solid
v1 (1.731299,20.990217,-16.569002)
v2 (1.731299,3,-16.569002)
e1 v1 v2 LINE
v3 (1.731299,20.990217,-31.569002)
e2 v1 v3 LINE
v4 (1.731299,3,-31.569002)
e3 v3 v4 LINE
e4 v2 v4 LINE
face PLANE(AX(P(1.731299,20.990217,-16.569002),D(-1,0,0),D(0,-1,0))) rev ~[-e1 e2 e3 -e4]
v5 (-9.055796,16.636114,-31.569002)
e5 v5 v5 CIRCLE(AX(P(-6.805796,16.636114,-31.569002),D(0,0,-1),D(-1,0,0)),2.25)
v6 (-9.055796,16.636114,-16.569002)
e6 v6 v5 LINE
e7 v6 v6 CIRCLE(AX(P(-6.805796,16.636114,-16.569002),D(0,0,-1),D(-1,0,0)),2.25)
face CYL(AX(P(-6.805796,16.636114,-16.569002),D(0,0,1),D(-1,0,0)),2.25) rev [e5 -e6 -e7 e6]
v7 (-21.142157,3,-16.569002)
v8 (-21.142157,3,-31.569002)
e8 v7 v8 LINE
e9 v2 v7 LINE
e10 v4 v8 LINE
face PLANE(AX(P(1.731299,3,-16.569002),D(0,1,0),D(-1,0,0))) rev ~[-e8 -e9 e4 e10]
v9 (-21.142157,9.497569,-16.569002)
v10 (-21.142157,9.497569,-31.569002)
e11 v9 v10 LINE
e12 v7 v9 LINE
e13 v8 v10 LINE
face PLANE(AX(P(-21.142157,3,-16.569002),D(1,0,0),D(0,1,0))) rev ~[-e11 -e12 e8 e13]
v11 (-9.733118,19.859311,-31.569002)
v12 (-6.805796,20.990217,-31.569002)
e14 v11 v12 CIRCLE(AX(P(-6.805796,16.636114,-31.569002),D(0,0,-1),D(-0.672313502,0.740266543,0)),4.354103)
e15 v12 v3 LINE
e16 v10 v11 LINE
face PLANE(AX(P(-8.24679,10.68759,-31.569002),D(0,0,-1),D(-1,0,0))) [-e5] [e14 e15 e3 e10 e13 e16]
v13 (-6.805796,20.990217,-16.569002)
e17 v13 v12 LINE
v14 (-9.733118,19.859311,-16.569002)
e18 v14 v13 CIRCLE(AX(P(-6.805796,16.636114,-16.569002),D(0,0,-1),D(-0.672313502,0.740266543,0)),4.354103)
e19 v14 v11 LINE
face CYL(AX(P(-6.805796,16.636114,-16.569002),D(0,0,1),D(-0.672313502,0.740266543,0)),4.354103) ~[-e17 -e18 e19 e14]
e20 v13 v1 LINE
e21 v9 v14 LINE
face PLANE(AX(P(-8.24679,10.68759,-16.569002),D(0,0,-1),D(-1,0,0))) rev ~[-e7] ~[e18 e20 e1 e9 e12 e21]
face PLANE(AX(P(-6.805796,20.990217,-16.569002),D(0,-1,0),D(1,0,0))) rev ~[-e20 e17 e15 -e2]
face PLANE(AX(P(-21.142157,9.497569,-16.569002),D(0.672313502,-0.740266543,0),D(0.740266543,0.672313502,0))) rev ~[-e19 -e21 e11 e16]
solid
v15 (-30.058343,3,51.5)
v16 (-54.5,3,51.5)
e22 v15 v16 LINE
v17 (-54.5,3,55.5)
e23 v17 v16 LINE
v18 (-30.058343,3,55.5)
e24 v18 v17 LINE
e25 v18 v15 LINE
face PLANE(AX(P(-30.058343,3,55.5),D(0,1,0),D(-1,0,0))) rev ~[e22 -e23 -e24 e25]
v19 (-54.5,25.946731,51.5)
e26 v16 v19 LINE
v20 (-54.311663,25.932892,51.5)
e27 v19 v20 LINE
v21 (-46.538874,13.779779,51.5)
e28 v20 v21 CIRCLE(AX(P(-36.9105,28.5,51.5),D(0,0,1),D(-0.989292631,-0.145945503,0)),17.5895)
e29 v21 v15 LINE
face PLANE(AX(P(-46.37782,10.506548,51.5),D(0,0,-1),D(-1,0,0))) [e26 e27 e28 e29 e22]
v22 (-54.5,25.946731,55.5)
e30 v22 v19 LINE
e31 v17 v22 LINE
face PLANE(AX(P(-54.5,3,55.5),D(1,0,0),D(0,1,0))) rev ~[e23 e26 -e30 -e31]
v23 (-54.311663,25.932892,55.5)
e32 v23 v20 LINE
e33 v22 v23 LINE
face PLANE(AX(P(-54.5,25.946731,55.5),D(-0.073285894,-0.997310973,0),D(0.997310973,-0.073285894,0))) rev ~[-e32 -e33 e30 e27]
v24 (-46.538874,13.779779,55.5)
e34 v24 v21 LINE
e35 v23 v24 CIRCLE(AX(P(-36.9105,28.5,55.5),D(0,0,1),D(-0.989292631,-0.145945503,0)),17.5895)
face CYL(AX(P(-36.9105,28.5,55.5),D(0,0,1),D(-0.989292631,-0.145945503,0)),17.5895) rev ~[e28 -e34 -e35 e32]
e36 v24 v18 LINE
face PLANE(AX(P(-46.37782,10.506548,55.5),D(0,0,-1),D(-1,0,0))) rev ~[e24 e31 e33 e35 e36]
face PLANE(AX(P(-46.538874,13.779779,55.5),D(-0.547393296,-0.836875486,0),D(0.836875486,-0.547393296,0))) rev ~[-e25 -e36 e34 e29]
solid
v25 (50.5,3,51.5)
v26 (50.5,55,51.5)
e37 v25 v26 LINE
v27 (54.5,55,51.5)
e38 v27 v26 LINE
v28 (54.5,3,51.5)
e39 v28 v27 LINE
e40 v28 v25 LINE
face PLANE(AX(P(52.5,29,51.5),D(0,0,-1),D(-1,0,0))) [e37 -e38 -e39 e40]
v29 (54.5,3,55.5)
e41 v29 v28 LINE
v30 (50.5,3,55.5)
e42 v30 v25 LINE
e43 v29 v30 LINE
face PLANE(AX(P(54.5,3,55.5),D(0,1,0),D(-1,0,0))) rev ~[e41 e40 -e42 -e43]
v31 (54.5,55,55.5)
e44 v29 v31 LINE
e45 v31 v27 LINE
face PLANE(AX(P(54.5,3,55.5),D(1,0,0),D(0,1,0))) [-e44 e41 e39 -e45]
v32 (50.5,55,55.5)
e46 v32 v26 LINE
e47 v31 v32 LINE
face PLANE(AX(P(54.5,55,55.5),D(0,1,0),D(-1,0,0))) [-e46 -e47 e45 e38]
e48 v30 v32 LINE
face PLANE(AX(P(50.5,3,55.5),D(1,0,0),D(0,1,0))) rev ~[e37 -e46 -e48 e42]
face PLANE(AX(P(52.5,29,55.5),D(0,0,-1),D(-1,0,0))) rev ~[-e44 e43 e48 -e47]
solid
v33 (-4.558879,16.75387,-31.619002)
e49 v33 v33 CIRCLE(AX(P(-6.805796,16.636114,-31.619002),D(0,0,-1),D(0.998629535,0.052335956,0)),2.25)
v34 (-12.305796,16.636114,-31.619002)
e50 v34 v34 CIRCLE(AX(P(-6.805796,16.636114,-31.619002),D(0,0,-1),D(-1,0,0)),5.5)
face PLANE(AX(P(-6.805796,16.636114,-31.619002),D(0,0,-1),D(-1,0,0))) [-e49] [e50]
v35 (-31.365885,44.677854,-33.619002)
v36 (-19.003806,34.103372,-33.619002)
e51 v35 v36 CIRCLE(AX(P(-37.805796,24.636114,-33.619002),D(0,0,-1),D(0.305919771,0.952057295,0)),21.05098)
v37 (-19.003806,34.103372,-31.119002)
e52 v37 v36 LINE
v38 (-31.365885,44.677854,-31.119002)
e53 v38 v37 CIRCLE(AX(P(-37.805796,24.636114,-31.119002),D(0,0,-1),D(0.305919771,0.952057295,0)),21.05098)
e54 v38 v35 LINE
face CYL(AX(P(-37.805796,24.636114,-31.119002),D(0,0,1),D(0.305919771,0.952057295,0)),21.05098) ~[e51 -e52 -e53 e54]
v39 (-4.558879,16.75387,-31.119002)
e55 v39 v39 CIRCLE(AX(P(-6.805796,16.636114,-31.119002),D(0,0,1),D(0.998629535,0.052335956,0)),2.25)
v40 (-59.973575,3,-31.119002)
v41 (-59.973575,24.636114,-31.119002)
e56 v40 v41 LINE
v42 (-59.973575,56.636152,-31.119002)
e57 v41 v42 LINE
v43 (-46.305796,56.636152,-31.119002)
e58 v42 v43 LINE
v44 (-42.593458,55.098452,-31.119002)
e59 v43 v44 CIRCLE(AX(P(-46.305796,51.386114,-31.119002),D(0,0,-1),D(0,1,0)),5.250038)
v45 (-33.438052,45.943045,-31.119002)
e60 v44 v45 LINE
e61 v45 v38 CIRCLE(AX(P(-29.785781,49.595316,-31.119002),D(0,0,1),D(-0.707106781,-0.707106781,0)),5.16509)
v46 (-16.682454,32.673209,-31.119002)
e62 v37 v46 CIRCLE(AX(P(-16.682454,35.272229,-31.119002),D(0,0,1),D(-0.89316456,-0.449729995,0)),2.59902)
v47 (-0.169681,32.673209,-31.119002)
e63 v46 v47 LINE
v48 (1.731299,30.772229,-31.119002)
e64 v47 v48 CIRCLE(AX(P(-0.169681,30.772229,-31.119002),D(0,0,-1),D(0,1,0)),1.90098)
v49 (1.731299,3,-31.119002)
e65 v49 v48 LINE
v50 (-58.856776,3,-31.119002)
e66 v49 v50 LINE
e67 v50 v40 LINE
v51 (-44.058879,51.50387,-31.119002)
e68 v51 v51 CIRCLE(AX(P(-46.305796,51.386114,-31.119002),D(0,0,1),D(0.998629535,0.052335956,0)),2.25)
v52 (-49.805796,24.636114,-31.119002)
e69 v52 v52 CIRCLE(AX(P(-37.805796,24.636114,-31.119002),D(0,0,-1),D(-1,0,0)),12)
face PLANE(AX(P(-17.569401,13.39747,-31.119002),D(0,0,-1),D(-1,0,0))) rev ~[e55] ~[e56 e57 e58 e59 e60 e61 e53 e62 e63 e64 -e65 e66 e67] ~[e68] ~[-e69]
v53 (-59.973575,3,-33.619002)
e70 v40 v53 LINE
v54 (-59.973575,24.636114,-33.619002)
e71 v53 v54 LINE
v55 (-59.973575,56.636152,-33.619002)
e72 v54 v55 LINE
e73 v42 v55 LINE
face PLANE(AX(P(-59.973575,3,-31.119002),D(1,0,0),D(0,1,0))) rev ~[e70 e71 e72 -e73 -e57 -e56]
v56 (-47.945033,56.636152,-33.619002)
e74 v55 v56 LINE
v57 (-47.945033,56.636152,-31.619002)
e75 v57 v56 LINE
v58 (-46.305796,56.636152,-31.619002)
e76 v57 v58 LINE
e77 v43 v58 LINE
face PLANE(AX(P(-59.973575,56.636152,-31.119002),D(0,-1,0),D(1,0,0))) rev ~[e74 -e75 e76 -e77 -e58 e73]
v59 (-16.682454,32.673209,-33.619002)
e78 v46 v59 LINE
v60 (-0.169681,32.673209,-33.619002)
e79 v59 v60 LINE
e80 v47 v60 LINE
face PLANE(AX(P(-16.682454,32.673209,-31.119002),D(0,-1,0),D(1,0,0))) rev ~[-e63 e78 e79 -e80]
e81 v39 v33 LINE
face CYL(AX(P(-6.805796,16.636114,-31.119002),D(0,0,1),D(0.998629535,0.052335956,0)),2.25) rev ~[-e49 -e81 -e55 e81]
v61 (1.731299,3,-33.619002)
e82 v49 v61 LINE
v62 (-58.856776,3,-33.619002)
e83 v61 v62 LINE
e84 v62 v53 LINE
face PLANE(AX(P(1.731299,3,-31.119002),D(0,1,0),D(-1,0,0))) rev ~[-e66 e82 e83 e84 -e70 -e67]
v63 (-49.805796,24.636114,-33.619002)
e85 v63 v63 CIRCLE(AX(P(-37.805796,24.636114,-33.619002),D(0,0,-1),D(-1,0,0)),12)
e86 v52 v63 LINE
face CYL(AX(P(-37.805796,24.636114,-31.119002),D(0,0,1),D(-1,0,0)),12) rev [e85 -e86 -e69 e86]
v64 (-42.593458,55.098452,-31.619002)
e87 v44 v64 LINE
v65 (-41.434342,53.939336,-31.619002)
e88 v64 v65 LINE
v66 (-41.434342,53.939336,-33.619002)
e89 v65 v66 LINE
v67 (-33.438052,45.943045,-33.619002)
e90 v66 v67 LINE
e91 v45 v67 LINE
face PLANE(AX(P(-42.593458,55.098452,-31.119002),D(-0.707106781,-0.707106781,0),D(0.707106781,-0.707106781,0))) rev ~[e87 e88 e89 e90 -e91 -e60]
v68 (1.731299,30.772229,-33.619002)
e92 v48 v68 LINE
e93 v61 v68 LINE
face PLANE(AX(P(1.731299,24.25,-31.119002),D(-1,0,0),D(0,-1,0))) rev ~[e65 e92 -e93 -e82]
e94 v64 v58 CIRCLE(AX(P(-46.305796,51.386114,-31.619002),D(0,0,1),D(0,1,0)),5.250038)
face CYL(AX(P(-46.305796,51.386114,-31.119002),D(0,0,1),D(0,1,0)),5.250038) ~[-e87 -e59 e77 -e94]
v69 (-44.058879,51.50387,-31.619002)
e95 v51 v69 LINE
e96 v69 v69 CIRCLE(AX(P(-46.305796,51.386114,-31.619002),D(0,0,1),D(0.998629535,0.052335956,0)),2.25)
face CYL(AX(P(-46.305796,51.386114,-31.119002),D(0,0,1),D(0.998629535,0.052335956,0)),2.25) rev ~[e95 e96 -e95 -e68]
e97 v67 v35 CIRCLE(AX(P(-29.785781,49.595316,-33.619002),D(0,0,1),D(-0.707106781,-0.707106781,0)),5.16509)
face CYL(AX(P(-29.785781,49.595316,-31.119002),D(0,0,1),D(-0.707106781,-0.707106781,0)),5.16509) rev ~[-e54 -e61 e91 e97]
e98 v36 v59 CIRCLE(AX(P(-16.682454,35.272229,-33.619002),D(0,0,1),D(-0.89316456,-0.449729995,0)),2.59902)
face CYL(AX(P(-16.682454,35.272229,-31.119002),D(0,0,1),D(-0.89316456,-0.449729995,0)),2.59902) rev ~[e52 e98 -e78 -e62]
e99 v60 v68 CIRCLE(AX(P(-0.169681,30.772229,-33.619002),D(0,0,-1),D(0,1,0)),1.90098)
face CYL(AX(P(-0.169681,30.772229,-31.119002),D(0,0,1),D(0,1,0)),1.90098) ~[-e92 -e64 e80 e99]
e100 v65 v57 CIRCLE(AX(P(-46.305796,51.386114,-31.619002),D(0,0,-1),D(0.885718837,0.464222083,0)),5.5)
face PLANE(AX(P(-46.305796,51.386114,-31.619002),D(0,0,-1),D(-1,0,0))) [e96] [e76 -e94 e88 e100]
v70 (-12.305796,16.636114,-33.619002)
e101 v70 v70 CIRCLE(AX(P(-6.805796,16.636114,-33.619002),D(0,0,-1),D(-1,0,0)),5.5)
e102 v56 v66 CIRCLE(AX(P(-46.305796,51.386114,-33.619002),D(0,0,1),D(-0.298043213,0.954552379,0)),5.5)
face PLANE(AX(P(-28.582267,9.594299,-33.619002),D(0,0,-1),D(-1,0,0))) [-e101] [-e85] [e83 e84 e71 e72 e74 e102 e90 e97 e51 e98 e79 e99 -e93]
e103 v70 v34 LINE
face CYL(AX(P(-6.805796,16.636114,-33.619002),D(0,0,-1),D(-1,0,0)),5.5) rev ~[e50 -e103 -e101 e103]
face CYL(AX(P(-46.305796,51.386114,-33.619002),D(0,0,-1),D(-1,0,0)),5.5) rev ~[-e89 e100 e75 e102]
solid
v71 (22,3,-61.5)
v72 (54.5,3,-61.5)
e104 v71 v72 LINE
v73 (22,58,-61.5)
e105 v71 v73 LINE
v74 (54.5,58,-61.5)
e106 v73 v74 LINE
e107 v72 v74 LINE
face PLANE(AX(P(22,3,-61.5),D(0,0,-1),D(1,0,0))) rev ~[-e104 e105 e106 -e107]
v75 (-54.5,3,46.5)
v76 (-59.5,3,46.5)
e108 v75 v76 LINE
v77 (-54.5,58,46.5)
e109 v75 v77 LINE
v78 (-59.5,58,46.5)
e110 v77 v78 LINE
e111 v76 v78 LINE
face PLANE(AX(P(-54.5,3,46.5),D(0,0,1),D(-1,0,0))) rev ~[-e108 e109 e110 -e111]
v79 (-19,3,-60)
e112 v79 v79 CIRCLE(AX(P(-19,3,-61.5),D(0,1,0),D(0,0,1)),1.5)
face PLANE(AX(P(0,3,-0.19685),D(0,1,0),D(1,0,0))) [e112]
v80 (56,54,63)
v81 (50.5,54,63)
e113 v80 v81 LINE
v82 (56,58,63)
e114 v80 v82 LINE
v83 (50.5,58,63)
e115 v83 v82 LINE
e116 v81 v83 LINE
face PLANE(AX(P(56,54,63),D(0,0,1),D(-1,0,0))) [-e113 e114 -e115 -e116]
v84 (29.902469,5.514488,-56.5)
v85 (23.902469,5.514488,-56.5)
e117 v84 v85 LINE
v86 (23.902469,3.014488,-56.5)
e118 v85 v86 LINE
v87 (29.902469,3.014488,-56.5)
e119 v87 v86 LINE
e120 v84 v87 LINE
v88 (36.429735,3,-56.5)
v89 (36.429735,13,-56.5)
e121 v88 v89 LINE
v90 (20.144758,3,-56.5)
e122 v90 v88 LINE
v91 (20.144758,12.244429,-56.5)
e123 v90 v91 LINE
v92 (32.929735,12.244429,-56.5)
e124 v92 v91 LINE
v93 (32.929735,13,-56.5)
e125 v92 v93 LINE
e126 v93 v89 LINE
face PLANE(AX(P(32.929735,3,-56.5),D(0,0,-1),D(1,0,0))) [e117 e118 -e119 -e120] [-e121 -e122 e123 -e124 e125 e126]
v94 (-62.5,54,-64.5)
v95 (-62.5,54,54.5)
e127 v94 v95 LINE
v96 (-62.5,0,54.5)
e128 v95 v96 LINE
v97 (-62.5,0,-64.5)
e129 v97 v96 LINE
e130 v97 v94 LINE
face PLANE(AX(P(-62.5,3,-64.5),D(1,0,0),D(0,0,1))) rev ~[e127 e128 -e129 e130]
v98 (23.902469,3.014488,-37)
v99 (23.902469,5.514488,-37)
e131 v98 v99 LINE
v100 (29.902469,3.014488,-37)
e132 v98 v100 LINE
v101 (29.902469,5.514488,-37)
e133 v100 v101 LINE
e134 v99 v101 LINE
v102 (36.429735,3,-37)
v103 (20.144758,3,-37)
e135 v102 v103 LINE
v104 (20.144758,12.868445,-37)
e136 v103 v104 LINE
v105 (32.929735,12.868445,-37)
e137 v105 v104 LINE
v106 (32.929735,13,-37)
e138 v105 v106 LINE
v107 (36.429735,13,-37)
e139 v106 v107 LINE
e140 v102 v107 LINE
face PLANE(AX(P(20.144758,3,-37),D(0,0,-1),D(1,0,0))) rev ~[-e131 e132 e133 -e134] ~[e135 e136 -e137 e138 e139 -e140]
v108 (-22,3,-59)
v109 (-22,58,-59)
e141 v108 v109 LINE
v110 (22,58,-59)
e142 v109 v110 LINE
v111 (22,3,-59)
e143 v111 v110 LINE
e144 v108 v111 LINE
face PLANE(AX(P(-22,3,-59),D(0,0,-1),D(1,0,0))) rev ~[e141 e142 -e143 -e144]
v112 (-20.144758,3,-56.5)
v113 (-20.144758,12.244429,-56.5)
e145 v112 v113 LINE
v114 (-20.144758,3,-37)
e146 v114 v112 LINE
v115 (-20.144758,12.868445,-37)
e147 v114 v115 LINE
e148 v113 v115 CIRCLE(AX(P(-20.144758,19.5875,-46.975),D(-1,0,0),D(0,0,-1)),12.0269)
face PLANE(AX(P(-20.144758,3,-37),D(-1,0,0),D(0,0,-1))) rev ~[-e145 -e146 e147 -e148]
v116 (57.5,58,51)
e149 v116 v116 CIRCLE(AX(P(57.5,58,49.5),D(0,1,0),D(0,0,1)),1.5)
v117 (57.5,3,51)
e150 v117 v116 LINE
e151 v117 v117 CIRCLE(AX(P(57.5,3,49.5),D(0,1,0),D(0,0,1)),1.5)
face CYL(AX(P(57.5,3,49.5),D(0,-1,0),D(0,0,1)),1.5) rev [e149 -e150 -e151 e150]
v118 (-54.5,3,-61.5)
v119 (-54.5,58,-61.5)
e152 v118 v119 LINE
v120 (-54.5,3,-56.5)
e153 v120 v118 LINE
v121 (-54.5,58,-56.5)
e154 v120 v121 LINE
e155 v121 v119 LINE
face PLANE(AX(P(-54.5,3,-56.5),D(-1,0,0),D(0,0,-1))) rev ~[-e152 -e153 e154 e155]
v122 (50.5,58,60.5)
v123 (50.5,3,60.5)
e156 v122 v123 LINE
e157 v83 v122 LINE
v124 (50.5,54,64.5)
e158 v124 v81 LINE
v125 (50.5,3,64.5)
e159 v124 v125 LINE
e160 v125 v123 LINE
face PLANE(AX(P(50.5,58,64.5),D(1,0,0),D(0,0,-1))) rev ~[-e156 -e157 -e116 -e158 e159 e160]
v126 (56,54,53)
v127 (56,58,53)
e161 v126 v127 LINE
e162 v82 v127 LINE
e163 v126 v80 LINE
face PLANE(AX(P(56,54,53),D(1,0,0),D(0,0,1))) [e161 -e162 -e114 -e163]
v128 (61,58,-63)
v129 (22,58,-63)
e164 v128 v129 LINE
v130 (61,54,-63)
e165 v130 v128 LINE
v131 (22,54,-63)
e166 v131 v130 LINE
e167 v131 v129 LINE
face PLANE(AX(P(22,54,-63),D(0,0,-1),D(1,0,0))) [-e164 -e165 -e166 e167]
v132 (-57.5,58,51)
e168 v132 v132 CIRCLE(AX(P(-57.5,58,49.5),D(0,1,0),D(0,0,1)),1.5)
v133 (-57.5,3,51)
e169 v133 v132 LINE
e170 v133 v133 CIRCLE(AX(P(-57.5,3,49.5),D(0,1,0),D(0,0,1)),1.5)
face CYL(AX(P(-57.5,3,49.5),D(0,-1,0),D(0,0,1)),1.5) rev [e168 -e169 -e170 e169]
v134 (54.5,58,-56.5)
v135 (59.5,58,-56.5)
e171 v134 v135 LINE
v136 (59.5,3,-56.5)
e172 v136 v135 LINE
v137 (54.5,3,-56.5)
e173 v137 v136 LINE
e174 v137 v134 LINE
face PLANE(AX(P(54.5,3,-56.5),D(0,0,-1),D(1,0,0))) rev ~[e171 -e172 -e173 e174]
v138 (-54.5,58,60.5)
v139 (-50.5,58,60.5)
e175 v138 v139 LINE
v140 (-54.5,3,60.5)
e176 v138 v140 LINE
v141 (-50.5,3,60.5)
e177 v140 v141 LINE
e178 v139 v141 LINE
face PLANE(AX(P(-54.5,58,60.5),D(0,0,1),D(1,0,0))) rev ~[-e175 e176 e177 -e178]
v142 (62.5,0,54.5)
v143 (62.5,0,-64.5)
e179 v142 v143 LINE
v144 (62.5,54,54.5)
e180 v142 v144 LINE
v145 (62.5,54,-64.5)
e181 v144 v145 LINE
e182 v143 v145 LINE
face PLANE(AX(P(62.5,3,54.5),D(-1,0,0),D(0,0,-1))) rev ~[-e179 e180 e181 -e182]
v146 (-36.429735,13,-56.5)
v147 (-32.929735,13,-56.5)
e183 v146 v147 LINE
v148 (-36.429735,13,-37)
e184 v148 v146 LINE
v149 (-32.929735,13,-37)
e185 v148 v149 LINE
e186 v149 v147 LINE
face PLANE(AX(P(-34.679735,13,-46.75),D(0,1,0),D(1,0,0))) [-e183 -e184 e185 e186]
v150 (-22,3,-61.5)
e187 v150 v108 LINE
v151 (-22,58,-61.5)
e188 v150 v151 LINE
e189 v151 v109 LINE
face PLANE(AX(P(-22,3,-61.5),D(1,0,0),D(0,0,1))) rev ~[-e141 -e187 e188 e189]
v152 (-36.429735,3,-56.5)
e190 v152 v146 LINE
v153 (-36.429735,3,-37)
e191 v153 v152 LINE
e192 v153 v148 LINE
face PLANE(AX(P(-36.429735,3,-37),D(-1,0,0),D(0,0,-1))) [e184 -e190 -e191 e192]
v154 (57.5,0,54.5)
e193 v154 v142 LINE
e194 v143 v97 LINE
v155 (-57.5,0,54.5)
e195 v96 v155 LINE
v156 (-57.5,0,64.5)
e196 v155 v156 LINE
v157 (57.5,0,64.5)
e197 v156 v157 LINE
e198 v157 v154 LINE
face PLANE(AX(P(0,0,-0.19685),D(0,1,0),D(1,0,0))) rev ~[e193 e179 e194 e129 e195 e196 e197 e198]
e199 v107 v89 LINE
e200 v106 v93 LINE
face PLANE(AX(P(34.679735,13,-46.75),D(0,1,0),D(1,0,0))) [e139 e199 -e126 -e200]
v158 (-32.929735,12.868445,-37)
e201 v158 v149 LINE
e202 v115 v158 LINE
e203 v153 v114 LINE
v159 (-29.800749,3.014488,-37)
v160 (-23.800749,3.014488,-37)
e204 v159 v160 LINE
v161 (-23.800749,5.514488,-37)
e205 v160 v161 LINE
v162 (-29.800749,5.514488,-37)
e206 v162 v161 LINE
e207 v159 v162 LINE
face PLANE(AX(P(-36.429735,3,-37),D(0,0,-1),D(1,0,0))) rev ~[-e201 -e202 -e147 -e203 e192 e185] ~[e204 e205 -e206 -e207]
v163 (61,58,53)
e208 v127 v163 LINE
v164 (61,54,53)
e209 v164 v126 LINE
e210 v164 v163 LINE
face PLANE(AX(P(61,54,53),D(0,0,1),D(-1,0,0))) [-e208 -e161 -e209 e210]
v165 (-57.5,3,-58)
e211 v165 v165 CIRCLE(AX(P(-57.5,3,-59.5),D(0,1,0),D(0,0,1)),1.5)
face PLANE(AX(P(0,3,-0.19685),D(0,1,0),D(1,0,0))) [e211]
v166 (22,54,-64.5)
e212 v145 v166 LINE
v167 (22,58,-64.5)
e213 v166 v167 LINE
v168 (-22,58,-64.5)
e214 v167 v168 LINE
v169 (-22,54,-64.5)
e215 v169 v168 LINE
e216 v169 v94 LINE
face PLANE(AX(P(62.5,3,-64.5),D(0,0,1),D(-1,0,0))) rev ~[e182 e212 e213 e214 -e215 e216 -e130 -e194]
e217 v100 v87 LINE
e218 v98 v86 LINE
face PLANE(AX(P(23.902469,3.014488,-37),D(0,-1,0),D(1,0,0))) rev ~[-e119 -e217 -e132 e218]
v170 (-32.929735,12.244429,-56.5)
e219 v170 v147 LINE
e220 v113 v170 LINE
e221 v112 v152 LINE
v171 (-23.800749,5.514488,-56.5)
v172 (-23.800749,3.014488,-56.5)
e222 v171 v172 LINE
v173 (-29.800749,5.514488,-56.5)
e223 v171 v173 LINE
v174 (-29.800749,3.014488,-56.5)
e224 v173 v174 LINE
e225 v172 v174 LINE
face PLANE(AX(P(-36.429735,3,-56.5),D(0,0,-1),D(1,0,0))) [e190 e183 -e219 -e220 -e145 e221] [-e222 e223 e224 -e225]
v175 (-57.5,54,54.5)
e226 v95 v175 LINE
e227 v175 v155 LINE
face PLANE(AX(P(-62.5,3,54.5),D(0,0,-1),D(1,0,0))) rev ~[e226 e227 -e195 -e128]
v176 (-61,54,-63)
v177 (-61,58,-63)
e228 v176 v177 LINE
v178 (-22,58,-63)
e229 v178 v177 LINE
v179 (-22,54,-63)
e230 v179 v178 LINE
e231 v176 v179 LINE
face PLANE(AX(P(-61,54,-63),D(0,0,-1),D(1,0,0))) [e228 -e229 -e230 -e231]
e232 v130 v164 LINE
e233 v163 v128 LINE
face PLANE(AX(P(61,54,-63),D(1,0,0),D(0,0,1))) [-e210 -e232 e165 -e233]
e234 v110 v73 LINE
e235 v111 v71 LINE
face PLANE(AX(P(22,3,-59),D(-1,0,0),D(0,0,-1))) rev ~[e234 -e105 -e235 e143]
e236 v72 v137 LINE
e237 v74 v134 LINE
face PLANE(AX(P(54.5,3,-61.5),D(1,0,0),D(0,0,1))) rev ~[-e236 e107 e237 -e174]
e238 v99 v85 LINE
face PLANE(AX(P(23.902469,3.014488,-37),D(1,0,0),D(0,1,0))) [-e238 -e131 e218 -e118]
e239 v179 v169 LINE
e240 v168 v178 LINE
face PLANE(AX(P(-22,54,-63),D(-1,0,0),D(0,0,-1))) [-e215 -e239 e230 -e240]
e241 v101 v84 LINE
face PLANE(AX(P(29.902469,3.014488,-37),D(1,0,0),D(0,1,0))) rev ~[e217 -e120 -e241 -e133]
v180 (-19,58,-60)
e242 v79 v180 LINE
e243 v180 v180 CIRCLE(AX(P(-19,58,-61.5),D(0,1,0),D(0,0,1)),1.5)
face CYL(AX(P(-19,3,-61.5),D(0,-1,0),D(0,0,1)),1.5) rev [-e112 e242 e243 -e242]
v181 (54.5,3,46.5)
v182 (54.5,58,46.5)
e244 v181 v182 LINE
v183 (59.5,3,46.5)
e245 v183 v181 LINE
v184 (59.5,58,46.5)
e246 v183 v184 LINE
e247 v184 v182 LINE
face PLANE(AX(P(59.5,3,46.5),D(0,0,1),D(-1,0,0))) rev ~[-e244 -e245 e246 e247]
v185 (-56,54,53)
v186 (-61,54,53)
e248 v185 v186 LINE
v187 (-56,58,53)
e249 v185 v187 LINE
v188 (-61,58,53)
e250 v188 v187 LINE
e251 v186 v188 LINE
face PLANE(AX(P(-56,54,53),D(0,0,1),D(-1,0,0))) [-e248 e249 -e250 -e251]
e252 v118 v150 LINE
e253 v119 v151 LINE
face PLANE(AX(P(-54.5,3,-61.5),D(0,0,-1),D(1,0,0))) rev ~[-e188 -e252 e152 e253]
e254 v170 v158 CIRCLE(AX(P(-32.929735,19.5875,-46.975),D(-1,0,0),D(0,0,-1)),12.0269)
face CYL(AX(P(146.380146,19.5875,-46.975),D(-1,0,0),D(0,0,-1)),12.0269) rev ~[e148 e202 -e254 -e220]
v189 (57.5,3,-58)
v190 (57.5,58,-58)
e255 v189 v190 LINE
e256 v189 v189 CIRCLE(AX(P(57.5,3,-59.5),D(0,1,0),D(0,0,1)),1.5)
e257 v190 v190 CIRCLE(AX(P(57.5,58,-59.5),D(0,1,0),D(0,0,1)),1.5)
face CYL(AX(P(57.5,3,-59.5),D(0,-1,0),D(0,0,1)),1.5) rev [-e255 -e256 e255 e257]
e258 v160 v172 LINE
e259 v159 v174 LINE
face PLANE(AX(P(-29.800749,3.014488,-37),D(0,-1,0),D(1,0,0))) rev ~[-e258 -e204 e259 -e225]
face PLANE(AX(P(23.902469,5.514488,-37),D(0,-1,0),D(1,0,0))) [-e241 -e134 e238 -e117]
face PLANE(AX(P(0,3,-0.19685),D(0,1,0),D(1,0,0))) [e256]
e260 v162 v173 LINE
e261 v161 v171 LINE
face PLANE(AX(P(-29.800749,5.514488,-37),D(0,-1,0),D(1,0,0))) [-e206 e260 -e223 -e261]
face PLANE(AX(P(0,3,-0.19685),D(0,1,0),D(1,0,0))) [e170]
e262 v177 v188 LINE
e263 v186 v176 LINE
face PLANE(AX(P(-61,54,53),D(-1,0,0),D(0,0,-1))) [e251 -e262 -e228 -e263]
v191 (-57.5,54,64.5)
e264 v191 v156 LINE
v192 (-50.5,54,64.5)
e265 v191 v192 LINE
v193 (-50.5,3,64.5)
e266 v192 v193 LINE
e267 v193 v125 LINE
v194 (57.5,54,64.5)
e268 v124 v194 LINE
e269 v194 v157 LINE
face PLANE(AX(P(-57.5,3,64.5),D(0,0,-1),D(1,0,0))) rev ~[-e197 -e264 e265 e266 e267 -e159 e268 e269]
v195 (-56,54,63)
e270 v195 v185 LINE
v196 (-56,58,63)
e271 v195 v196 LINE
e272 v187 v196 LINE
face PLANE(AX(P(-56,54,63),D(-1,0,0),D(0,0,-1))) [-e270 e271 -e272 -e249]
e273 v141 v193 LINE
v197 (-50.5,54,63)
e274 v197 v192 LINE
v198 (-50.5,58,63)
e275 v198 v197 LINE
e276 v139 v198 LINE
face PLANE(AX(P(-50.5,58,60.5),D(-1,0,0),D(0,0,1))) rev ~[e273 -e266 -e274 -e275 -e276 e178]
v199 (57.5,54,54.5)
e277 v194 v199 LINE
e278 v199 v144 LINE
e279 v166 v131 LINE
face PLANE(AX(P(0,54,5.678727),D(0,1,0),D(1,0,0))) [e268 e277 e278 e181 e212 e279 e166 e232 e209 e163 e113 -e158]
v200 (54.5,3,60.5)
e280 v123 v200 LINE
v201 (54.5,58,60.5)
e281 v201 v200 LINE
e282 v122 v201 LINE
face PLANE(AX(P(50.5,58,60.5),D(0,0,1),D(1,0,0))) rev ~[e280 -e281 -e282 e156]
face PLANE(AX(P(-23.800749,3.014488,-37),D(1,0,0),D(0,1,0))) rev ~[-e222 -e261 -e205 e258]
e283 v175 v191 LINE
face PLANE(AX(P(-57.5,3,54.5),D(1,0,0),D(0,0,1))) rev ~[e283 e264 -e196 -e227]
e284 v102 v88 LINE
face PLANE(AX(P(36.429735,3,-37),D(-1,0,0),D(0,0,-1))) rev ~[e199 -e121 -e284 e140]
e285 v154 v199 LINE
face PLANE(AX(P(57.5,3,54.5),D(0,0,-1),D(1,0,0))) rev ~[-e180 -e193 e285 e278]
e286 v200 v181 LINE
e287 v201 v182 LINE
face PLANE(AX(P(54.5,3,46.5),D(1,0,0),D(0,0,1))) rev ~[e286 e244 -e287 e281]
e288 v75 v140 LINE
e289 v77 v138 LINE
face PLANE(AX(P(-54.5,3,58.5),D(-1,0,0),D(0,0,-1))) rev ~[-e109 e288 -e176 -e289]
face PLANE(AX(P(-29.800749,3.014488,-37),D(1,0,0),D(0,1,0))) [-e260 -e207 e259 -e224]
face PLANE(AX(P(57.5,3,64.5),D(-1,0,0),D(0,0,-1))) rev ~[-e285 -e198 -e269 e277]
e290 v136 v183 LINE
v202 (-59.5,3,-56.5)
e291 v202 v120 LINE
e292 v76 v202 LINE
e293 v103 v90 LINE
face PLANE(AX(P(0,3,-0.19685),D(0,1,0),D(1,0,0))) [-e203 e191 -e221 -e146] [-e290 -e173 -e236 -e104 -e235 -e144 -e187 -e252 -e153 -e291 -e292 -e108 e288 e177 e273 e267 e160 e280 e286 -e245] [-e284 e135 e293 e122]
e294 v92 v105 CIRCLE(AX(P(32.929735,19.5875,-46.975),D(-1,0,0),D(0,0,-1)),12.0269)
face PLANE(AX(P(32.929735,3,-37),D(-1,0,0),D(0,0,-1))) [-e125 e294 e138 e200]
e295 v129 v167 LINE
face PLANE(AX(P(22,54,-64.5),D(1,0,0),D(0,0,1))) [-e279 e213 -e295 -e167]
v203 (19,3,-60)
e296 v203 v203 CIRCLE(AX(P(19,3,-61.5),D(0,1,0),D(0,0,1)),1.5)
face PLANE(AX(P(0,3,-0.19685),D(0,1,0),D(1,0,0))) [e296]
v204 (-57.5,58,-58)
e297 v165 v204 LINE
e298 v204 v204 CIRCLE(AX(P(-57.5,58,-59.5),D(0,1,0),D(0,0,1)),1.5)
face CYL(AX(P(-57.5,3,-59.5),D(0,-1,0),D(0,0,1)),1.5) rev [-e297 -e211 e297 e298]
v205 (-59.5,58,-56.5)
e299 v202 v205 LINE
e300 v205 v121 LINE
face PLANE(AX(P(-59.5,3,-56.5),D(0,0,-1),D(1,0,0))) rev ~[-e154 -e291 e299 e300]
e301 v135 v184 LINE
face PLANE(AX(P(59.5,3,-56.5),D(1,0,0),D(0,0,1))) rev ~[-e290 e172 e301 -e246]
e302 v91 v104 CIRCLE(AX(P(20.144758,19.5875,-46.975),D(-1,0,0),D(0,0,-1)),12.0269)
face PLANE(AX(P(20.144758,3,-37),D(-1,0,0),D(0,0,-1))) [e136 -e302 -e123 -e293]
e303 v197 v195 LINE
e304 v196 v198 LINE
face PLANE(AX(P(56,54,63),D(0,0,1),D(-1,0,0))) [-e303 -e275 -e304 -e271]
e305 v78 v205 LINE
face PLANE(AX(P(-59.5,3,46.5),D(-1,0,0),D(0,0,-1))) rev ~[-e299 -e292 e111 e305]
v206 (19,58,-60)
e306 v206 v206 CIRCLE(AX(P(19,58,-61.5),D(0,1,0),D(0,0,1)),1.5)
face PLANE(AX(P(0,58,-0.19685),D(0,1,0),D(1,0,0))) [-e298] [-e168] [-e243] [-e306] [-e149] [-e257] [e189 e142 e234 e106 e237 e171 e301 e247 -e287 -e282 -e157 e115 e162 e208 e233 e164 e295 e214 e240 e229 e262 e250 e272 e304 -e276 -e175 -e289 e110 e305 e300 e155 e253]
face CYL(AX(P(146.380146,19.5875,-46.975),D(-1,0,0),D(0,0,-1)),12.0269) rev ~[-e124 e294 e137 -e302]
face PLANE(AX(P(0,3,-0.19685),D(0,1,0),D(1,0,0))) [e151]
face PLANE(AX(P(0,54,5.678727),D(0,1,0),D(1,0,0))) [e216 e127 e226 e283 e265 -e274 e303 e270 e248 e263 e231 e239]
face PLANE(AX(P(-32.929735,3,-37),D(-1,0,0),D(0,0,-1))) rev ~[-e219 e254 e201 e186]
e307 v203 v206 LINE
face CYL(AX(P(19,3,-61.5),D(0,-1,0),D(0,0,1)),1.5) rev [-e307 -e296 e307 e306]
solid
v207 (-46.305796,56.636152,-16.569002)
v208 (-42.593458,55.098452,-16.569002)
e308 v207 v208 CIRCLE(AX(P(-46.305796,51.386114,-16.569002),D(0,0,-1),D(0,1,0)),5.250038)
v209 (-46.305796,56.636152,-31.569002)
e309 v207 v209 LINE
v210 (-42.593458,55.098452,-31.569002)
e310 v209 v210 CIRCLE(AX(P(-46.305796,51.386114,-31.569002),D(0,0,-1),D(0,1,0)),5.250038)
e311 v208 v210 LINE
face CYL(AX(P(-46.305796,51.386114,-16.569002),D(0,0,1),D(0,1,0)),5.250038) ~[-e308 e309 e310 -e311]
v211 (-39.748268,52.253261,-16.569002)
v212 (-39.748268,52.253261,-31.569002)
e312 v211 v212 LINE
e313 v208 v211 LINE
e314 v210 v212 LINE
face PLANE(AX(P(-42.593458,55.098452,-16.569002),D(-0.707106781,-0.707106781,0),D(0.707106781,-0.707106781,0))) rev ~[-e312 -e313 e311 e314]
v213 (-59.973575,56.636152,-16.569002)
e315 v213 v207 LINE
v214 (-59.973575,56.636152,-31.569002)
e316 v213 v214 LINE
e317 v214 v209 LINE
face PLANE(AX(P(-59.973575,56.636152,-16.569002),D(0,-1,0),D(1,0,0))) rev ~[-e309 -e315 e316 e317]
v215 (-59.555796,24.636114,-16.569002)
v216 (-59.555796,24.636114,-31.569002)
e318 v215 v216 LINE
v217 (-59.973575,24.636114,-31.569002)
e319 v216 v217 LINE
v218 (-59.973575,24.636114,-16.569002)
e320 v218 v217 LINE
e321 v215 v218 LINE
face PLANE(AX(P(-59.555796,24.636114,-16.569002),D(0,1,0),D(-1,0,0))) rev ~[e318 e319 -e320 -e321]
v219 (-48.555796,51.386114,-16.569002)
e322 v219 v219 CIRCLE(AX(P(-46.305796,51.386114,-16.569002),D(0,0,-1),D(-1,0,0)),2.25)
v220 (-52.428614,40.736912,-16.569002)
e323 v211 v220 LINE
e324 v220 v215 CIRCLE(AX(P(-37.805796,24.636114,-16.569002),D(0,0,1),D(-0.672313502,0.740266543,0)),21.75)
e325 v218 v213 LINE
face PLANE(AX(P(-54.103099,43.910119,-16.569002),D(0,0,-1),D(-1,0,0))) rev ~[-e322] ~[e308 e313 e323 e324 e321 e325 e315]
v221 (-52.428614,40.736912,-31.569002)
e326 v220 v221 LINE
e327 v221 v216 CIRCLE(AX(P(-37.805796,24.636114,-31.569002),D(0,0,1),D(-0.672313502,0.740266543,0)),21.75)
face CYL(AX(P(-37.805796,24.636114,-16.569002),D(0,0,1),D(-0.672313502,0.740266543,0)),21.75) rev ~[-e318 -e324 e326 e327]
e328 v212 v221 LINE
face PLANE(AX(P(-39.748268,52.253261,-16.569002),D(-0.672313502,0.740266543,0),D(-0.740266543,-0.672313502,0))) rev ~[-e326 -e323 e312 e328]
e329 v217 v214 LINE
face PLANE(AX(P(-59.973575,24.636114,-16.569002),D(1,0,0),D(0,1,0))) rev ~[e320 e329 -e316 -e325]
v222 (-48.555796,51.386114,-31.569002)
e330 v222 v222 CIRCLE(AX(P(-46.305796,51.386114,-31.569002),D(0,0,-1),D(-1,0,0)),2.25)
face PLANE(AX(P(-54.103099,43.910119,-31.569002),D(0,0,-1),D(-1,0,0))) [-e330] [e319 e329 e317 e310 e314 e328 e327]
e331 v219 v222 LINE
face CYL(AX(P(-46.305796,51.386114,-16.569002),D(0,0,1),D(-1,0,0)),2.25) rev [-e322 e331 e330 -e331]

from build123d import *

# Parameters (mm, degrees)
BOSS_EXTRUDE1_DEPTH          = 3
SKETCH2_R                    = 1.5
BOSS_EXTRUDE2_DEPTH          = 55
SKETCH14_R                   = 12
SKETCH14_W                   = 1.116798897
SKETCH14_H                   = 21.636114375
BOSS_EXTRUDE10_DEPTH         = 2.5
SKETCH21_R                   = 2.25
BOSS_EXTRUDE11_DEPTH         = 15
BOSS_EXTRUDE11_2_DEPTH       = 15
CUT_EXTRUDE_THIN2_DEPTH      = 107.913516451
CUT_EXTRUDE_THIN2_DEPTH_BACK = 4
BOSS_EXTRUDE15_REACH         = 107.316
BOSS_EXTRUDE15_END_RADIUS    = 12.0269
SKETCH23_W                   = 12.784976471
SKETCH23_H                   = 19.5
SKETCH28_W                   = 3.5
SKETCH28_H                   = 19.5
BOSS_EXTRUDE16_DEPTH         = 10
SKETCH29_W                   = 6
SKETCH29_H                   = 2.5
CUT_EXTRUDE9_DEPTH           = 21
SKETCH31_R                   = 5.5
SKETCH31_R_2                 = 2.25
CUT_EXTRUDE10_DEPTH          = 2
SKETCH35_W                   = 4
SKETCH35_H                   = 52
BOSS_EXTRUDE20_DEPTH         = 4
BOSS_EXTRUDE20_2_DEPTH       = 4
CUT_EXTRUDE18_DEPTH          = 55


with BuildPart() as part:
    # Sketch1 → Boss-Extrude1 (new body)
    with BuildSketch(Plane(origin=(0, 0, 0), x_dir=(1, 0, 0), z_dir=(0, 1, 0))):
        Polygon((-57.5, -54.5), (-57.5, -64.5), (57.5, -64.5), (57.5, -54.5), (62.5, -54.5), (62.5, 64.5), (-62.5, 64.5), (-62.5, -54.5), align=None)
    extrude(amount=BOSS_EXTRUDE1_DEPTH)

    # Sketch2 → Boss-Extrude2 (add)
    with BuildSketch(Plane(origin=(0, 3, 0), x_dir=(1, 0, 0), z_dir=(0, 1, 0))):
        Polygon((57.5, -64.5), (57.5, -54.5), (62.5, -54.5), (62.5, 64.5), (0, 64.5), (-62.5, 64.5), (-62.5, -54.5), (-57.5, -54.5), (-57.5, -64.5), align=None)
        with Locations(Location((-57.5, -49.5, 0), (0, 0, 270))):
            Circle(SKETCH2_R, mode=Mode.SUBTRACT)
        Polygon((-22, 59), (22, 59), (22, 61.5), (54.5, 61.5), (54.5, 56.5), (59.5, 56.5), (59.5, -46.5), (54.5, -46.5), (54.5, -58.5), (-54.5, -58.5), (-54.5, -46.5), (-59.5, -46.5), (-59.5, 56.5), (-54.5, 56.5), (-54.5, 61.5), (-22, 61.5), align=None, mode=Mode.SUBTRACT)
        with Locations(Location((-57.5, 59.5, 0), (0, 0, 270))):
            Circle(SKETCH2_R, mode=Mode.SUBTRACT)
        with Locations(Location((-19, 61.5, 0), (0, 0, 270))):
            Circle(SKETCH2_R, mode=Mode.SUBTRACT)
        with Locations(Location((19, 61.5, 0), (0, 0, 270))):
            Circle(SKETCH2_R, mode=Mode.SUBTRACT)
        with Locations(Location((57.5, 59.5, 0), (0, 0, 270))):
            Circle(SKETCH2_R, mode=Mode.SUBTRACT)
        with Locations(Location((57.5, -49.5, 0), (0, 0, 270))):
            Circle(SKETCH2_R, mode=Mode.SUBTRACT)
    extrude(amount=BOSS_EXTRUDE2_DEPTH)

    # Sketch22 → Cut-Extrude-Thin2 (cut, two sides: drawn at the far end of the back side and taken through both)
    with BuildSketch(Plane(origin=(0, 58, 0), x_dir=(1, 0, 0), z_dir=(0, 1, 0)).offset(-CUT_EXTRUDE_THIN2_DEPTH_BACK)):
        Polygon((-22, 64.5), (-62.5, 64.5), (-62.5, -54.5), (-57.5, -54.5), (-57.5, -64.5), (57.5, -64.5), (57.5, -54.5), (62.5, -54.5), (62.5, 64.5), (22, 64.5), (22, 63), (61, 63), (61, -53), (56, -53), (56, -63), (-56, -63), (-56, -53), (-61, -53), (-61, 63), (-22, 63), align=None)
    extrude(amount=CUT_EXTRUDE_THIN2_DEPTH + CUT_EXTRUDE_THIN2_DEPTH_BACK, mode=Mode.SUBTRACT)

    # Boss-Extrude15: up to this cylinder (the profile starts outside it)
    boss_extrude15_end = Plane(origin=(0, 19.5875, -46.975), z_dir=(-1, 0, 0)) * Cylinder(BOSS_EXTRUDE15_END_RADIUS, 292.760292, mode=Mode.PRIVATE)
    # Sketch23 → Boss-Extrude15 (add, up to the surface)
    with BuildSketch(Plane(origin=(0, 3, 0), x_dir=(1, 0, 0), z_dir=(0, 1, 0)), mode=Mode.PRIVATE) as boss_extrude15_sk1:
        with Locations((26.537246289, 46.75)):
            Rectangle(SKETCH23_W, SKETCH23_H)
    boss_extrude15_tool1 = extrude(boss_extrude15_sk1.sketch, amount=BOSS_EXTRUDE15_REACH, mode=Mode.PRIVATE) - boss_extrude15_end
    add(boss_extrude15_tool1.solids().sort_by_distance((26.537246, 3, -46.75))[0])
    # Sketch23 → Boss-Extrude15 (add, up to the surface)
    with BuildSketch(Plane(origin=(0, 3, 0), x_dir=(1, 0, 0), z_dir=(0, 1, 0)), mode=Mode.PRIVATE) as boss_extrude15_sk2:
        with Locations((-26.537246289, 46.75)):
            Rectangle(SKETCH23_W, SKETCH23_H)
    boss_extrude15_tool2 = extrude(boss_extrude15_sk2.sketch, amount=BOSS_EXTRUDE15_REACH, mode=Mode.PRIVATE) - boss_extrude15_end
    add(boss_extrude15_tool2.solids().sort_by_distance((-26.537246, 3, -46.75))[0])

    # Sketch28 → Boss-Extrude16 (add)
    with BuildSketch(Plane(origin=(0, 3, 0), x_dir=(1, 0, 0), z_dir=(0, 1, 0))):
        with Locations((-34.679734524, 46.75)):
            Rectangle(SKETCH28_W, SKETCH28_H)
        with Locations((34.679734524, 46.75)):
            Rectangle(SKETCH28_W, SKETCH28_H)
    extrude(amount=BOSS_EXTRUDE16_DEPTH)

    # Sketch29 → Cut-Extrude9 (cut)
    with BuildSketch(Plane.XY.offset(-37)):
        with Locations((-26.800748972, 4.264488043)):
            Rectangle(SKETCH29_W, SKETCH29_H)
        with Locations((26.902468668, 4.264488043)):
            Rectangle(SKETCH29_W, SKETCH29_H)
    extrude(amount=-CUT_EXTRUDE9_DEPTH, mode=Mode.SUBTRACT)

    # Sketch36 → Cut-Extrude18 (cut)
    with BuildSketch(Plane(origin=(0, 58, 0), x_dir=(1, 0, 0), z_dir=(0, 1, 0))):
        Polygon((-54.5, -60.5), (-50.5, -60.5), (-50.5, -64.5), (50.5, -64.5), (50.5, -60.5), (54.5, -60.5), (54.5, -55.5), (-54.5, -55.5), align=None)
    extrude(amount=-CUT_EXTRUDE18_DEPTH, mode=Mode.SUBTRACT)


with BuildPart() as body_2:
    # Sketch14 → Boss-Extrude10 (new body)
    # profile 1 of 10: a face of its own
    with BuildSketch(Plane(origin=(0, 0, -31.119001714), x_dir=(-1, 0, 0), z_dir=(0, 0, -1))):
        with BuildLine():
            ThreePointArc((-1.59584635, 23.545273827), (-1.697128881, 23.891187217), (-1.731299201, 24.25))
            Line((-1.731299201, 24.25), (-1.731299201, 3))
            Line((-1.731299201, 3), (58.856776147, 3))
            Line((58.856776147, 3), (58.856776147, 24.636114375))
            ThreePointArc((58.856776147, 24.636114375), (46.326717946, 5.386759507), (23.652937249, 9.052777819))
            Line((23.652937249, 9.052777819), (20.029318508, 12.343765137))
            ThreePointArc((20.029318508, 12.343765137), (18.95461959, 13.077151659), (17.720322917, 13.488667491))
            Line((17.720322917, 13.488667491), (18.204971966, 13.049203274))
            add(Edge.make_bspline(
                [(18.204971966, 13.049203274), (17.633265391, 13.567608463), (16.861430926, 13.567608463)],
                knots=[0.344197313, 0.344197313, 0.344197313, 1.080722269, 1.080722269, 1.080722269], degree=2, weights=[1, 0.932954253, 1]))
            Line((16.861430926, 13.567608463), (11.576216454, 13.567608463))
            add(Edge.make_bspline(
                [(11.576216454, 13.567608463), (11.161964807, 13.567608463), (10.869078119, 13.274721775)],
                knots=[5.212883045, 5.212883045, 5.212883045, 5.998256201, 5.998256201, 5.998256201], degree=2, weights=[1, 0.923884317, 1]))
            Line((10.869078119, 13.274721775), (10.51813319, 12.923776846))
            ThreePointArc((10.51813319, 12.923776846), (5.894136115, 11.465836169), (2.047645264, 14.417352407))
            Line((2.047645264, 14.417352407), (-1.61850388, 22.279505041))
            add(Edge.make_bspline(
                [(-1.61850388, 22.279505041), (-1.303116197, 21.995089756), (-0.911492557, 21.830784457)],
                knots=[0.051587875, 0.051587875, 0.051587875, 0.388465815, 0.388465815, 0.388465815], degree=2, weights=[1, 0.969446087, 0.966947037]))
            Line((-0.911492557, 21.830784457), (-1.59584635, 23.545273827))
        make_face()
    # profile 2 of 10: a face of its own
    with BuildSketch(Plane(origin=(0, 0, -31.119001714), x_dir=(-1, 0, 0), z_dir=(0, 0, -1))):
        with BuildLine():
            Line((-1.731299201, 30.772228751), (-1.731299201, 24.25))
            ThreePointArc((-1.731299201, 24.25), (-1.697128881, 23.891187217), (-1.59584635, 23.545273827))
            ThreePointArc((-1.59584635, 23.545273827), (-0.89663389, 22.67624692), (0.169681285, 22.349019514))
            Line((0.169681285, 22.349019514), (6.849741216, 22.349019514))
            ThreePointArc((6.849741216, 22.349019514), (8.867461366, 21.972817718), (10.614037633, 20.894766821))
            Line((10.614037633, 20.894766821), (20.029318508, 12.343765137))
            Line((20.029318508, 12.343765137), (23.652937249, 9.052777819))
            ThreePointArc((23.652937249, 9.052777819), (46.326717946, 5.386759507), (58.856776147, 24.636114375))
            ThreePointArc((58.856776147, 24.636114375), (57.121955076, 33.004493243), (52.203426683, 39.993588138))
            ThreePointArc((52.203426683, 39.993588138), (42.422819909, 45.174538524), (31.365884521, 44.67785392))
            ThreePointArc((31.365884521, 44.67785392), (24.122107987, 40.633003795), (19.00380593, 34.103371718))
            ThreePointArc((19.00380593, 34.103371718), (18.045725644, 33.059449427), (16.682453808, 32.673209237))
            Line((16.682453808, 32.673209237), (0.169681285, 32.673209237))
            ThreePointArc((0.169681285, 32.673209237), (-1.174514908, 32.116424943), (-1.731299201, 30.772228751))
        make_face()
        with Locations((37.80579566, 24.636114375)):
            Circle(SKETCH14_R, mode=Mode.SUBTRACT)
    # profile 3 of 10: a face of its own
    with BuildSketch(Plane(origin=(0, 0, -31.119001714), x_dir=(-1, 0, 0), z_dir=(0, 0, -1))):
        with BuildLine():
            ThreePointArc((0.169681285, 22.349019514), (-0.89663389, 22.67624692), (-1.59584635, 23.545273827))
            Line((-1.59584635, 23.545273827), (-0.911492557, 21.830784457))
            add(Edge.make_bspline(
                [(-0.911492557, 21.830784457), (-0.447494096, 21.636114375), (0.055700468, 21.636114375)],
                knots=[0.388465815, 0.388465815, 0.388465815, 0.785360087, 0.785360087, 0.785360087], degree=2, weights=[0.966947037, 0.964002769, 1]))
            Line((0.055700468, 21.636114375), (6.805869125, 21.636114375))
            add(Edge.make_bspline(
                [(10.164391553, 20.340143754), (8.735171821, 21.636114375), (6.805869125, 21.636114375)],
                knots=[5.914929134, 5.914929134, 5.914929134, 6.651441481, 6.651441481, 6.651441481], degree=2, weights=[1, 0.932956522, 1]))
            Line((10.164391553, 20.340143754), (17.720322917, 13.488667491))
            ThreePointArc((17.720322917, 13.488667491), (18.95461959, 13.077151659), (20.029318508, 12.343765137))
            Line((20.029318508, 12.343765137), (10.614037633, 20.894766821))
            ThreePointArc((10.614037633, 20.894766821), (8.867461366, 21.972817718), (6.849741216, 22.349019514))
            Line((6.849741216, 22.349019514), (0.169681285, 22.349019514))
        make_face()
    # profile 4 of 10: a face of its own
    with BuildSketch(Plane(origin=(0, 0, -31.119001714), x_dir=(-1, 0, 0), z_dir=(0, 0, -1))):
        with Locations((59.415175596, 13.818057188)):
            Rectangle(SKETCH14_W, SKETCH14_H)
    # profile 5 of 10: a face of its own
    with BuildSketch(Plane(origin=(0, 0, -31.119001714), x_dir=(-1, 0, 0), z_dir=(0, 0, -1))):
        with BuildLine():
            add(Edge.make_bspline(
                [(-0.911492557, 21.830784457), (-0.447494096, 21.636114375), (0.055700468, 21.636114375)],
                knots=[0.388465815, 0.388465815, 0.388465815, 0.785360087, 0.785360087, 0.785360087], degree=2, weights=[0.966947037, 0.964002769, 1]))
            Line((-0.911492557, 21.830784457), (2.047645264, 14.417352407))
            ThreePointArc((2.047645264, 14.417352407), (5.894136115, 11.465836169), (10.51813319, 12.923776846))
            Line((10.51813319, 12.923776846), (10.869078119, 13.274721775))
            add(Edge.make_bspline(
                [(11.576216454, 13.567608463), (11.161964807, 13.567608463), (10.869078119, 13.274721775)],
                knots=[5.212883045, 5.212883045, 5.212883045, 5.998256201, 5.998256201, 5.998256201], degree=2, weights=[1, 0.923884317, 1]))
            Line((11.576216454, 13.567608463), (16.861430926, 13.567608463))
            ThreePointArc((16.861430926, 13.567608463), (17.292686978, 13.547831717), (17.720322917, 13.488667491))
            Line((17.720322917, 13.488667491), (10.164391553, 20.340143754))
            add(Edge.make_bspline(
                [(10.164391553, 20.340143754), (8.735171821, 21.636114375), (6.805869125, 21.636114375)],
                knots=[5.914929134, 5.914929134, 5.914929134, 6.651441481, 6.651441481, 6.651441481], degree=2, weights=[1, 0.932956522, 1]))
            Line((6.805869125, 21.636114375), (0.055700468, 21.636114375))
        make_face()
        with BuildLine():
            ThreePointArc((9.052712114, 16.518358474), (6.688039759, 14.389197922), (4.558879207, 16.753870277))
            ThreePointArc((4.558879207, 16.753870277), (6.923551562, 18.883030829), (9.052712114, 16.518358474))
        make_face(mode=Mode.SUBTRACT)
    # profile 6 of 10: a face of its own
    with BuildSketch(Plane(origin=(0, 0, -31.119001714), x_dir=(-1, 0, 0), z_dir=(0, 0, -1))):
        with BuildLine():
            Line((2.047645264, 14.417352407), (-0.911492557, 21.830784457))
            add(Edge.make_bspline(
                [(-1.61850388, 22.279505041), (-1.303116197, 21.995089756), (-0.911492557, 21.830784457)],
                knots=[0.051587875, 0.051587875, 0.051587875, 0.388465815, 0.388465815, 0.388465815], degree=2, weights=[1, 0.969446087, 0.966947037]))
            Line((-1.61850388, 22.279505041), (2.047645264, 14.417352407))
        make_face()
    # profile 7 of 10: a face of its own
    with BuildSketch(Plane(origin=(0, 0, -31.119001714), x_dir=(-1, 0, 0), z_dir=(0, 0, -1))):
        with BuildLine():
            ThreePointArc((52.203426683, 39.993588138), (57.121955076, 33.004493243), (58.856776147, 24.636114375))
            Line((58.856776147, 24.636114375), (59.973575044, 24.636114375))
            Line((59.973575044, 24.636114375), (59.973575044, 56.636152457))
            Line((59.973575044, 56.636152457), (46.30579566, 56.636152457))
            ThreePointArc((46.30579566, 56.636152457), (50.01813319, 55.098451905), (51.555833742, 51.386114375))
            Line((51.555833742, 51.386114375), (51.555833742, 41.48838285))
            ThreePointArc((51.555833742, 41.48838285), (51.724689728, 40.673860314), (52.203426683, 39.993588138))
        make_face()
    # profile 8 of 10: a face of its own
    with BuildSketch(Plane(origin=(0, 0, -31.119001714), x_dir=(-1, 0, 0), z_dir=(0, 0, -1))):
        with BuildLine():
            ThreePointArc((31.365884521, 44.67785392), (42.422819909, 45.174538524), (52.203426683, 39.993588138))
            ThreePointArc((52.203426683, 39.993588138), (51.724689728, 40.673860314), (51.555833742, 41.48838285))
            ThreePointArc((51.555833742, 41.48838285), (42.998855018, 45.757066875), (33.438051696, 45.94304547))
            ThreePointArc((33.438051696, 45.94304547), (32.477362773, 45.186966142), (31.365884521, 44.67785392))
        make_face()
    # profile 9 of 10: a face of its own
    with BuildSketch(Plane(origin=(0, 0, -31.119001714), x_dir=(-1, 0, 0), z_dir=(0, 0, -1))):
        with BuildLine():
            ThreePointArc((33.438051696, 45.94304547), (42.998855018, 45.757066875), (51.555833742, 41.48838285))
            Line((51.555833742, 41.48838285), (51.555833742, 51.386114375))
            ThreePointArc((51.555833742, 51.386114375), (50.01813319, 55.098451905), (46.30579566, 56.636152457))
            ThreePointArc((46.30579566, 56.636152457), (44.296693067, 56.236517104), (42.593458131, 55.098451905))
            Line((42.593458131, 55.098451905), (33.438051696, 45.94304547))
        make_face()
        with BuildLine():
            ThreePointArc((48.552712114, 51.268358474), (46.188039759, 49.139197922), (44.058879207, 51.503870277))
            ThreePointArc((44.058879207, 51.503870277), (46.423551562, 53.633030829), (48.552712114, 51.268358474))
        make_face(mode=Mode.SUBTRACT)
    # profile 10 of 10: a face of its own
    with BuildSketch(Plane(origin=(0, 0, -31.119001714), x_dir=(-1, 0, 0), z_dir=(0, 0, -1))):
        with BuildLine():
            Line((18.204971966, 13.049203274), (17.720322917, 13.488667491))
            ThreePointArc((17.720322917, 13.488667491), (17.292686978, 13.547831717), (16.861430926, 13.567608463))
            add(Edge.make_bspline(
                [(18.204971966, 13.049203274), (17.633265391, 13.567608463), (16.861430926, 13.567608463)],
                knots=[0.344197313, 0.344197313, 0.344197313, 1.080722269, 1.080722269, 1.080722269], degree=2, weights=[1, 0.932954253, 1]))
        make_face()
    extrude(amount=BOSS_EXTRUDE10_DEPTH)

    # Sketch31 → Cut-Extrude10 (cut)
    # profile 1 of 2: a face of its own
    with BuildSketch(Plane(origin=(0, 0, -33.619001714), x_dir=(-1, 0, 0), z_dir=(0, 0, -1))):
        with Locations((6.80579566, 16.636114375)):
            Circle(SKETCH31_R)
        with Locations((6.80579566, 16.636114375)):
            Circle(SKETCH31_R_2, mode=Mode.SUBTRACT)
    # profile 2 of 2: a face of its own
    with BuildSketch(Plane(origin=(0, 0, -33.619001714), x_dir=(-1, 0, 0), z_dir=(0, 0, -1))):
        with Locations((46.30579566, 51.386114375)):
            Circle(SKETCH31_R)
    extrude(amount=-CUT_EXTRUDE10_DEPTH, mode=Mode.SUBTRACT)


with BuildPart() as body_3:
    # Sketch21 → Boss-Extrude11 (new body)
    with BuildSketch(Plane(origin=(0, 0, -16.569001714), x_dir=(-1, 0, 0), z_dir=(0, 0, -1))):
        with BuildLine():
            Line((59.973575044, 24.636114375), (59.973575044, 56.636152457))
            Line((59.973575044, 56.636152457), (46.30579566, 56.636152457))
            ThreePointArc((46.30579566, 56.636152457), (44.296693067, 56.236517104), (42.593458131, 55.098451905))
            Line((42.593458131, 55.098451905), (39.748267562, 52.253261335))
            Line((39.748267562, 52.253261335), (52.428614329, 40.73691169))
            ThreePointArc((52.428614329, 40.73691169), (57.694345206, 33.439982672), (59.55579566, 24.636114375))
            Line((59.55579566, 24.636114375), (59.973575044, 24.636114375))
        make_face()
        with Locations((46.30579566, 51.386114375)):
            Circle(SKETCH21_R, mode=Mode.SUBTRACT)
    extrude(amount=BOSS_EXTRUDE11_DEPTH)


with BuildPart() as body_4:
    # Sketch21 → Boss-Extrude11 2 (new body)
    with BuildSketch(Plane(origin=(0, 0, -16.569001714), x_dir=(-1, 0, 0), z_dir=(0, 0, -1))):
        with BuildLine():
            Line((-1.731299201, 20.990217365), (-1.731299201, 3))
            Line((-1.731299201, 3), (21.142157347, 3))
            Line((21.142157347, 3), (21.142157347, 9.497568685))
            Line((21.142157347, 9.497568685), (9.733117889, 19.859311144))
            ThreePointArc((9.733117889, 19.859311144), (8.374884912, 20.697662327), (6.80579566, 20.990217365))
            Line((6.80579566, 20.990217365), (-1.731299201, 20.990217365))
        make_face()
        with Locations((6.80579566, 16.636114375)):
            Circle(SKETCH21_R, mode=Mode.SUBTRACT)
    extrude(amount=BOSS_EXTRUDE11_2_DEPTH)


with BuildPart() as body_5:
    # Sketch35 → Boss-Extrude20 (new body)
    with BuildSketch(Plane(origin=(0, 0, 55.5), x_dir=(-1, 0, 0), z_dir=(0, 0, -1))):
        with Locations((-52.5, 29)):
            Rectangle(SKETCH35_W, SKETCH35_H)
    extrude(amount=BOSS_EXTRUDE20_DEPTH)


with BuildPart() as body_6:
    # Sketch35 → Boss-Extrude20 2 (new body)
    with BuildSketch(Plane(origin=(0, 0, 55.5), x_dir=(-1, 0, 0), z_dir=(0, 0, -1))):
        with BuildLine():
            Line((46.538874378, 13.779778633), (30.058342822, 3))
            Line((30.058342822, 3), (54.5, 3))
            Line((54.5, 3), (54.5, 25.946731257))
            Line((54.5, 25.946731257), (54.311662737, 25.932891577))
            ThreePointArc((54.311662737, 25.932891577), (51.728512948, 19.022816741), (46.538874378, 13.779778633))
        make_face()
    extrude(amount=BOSS_EXTRUDE20_2_DEPTH)


solid = Compound([part.part, body_2.part, body_3.part, body_4.part, body_5.part, body_6.part])
